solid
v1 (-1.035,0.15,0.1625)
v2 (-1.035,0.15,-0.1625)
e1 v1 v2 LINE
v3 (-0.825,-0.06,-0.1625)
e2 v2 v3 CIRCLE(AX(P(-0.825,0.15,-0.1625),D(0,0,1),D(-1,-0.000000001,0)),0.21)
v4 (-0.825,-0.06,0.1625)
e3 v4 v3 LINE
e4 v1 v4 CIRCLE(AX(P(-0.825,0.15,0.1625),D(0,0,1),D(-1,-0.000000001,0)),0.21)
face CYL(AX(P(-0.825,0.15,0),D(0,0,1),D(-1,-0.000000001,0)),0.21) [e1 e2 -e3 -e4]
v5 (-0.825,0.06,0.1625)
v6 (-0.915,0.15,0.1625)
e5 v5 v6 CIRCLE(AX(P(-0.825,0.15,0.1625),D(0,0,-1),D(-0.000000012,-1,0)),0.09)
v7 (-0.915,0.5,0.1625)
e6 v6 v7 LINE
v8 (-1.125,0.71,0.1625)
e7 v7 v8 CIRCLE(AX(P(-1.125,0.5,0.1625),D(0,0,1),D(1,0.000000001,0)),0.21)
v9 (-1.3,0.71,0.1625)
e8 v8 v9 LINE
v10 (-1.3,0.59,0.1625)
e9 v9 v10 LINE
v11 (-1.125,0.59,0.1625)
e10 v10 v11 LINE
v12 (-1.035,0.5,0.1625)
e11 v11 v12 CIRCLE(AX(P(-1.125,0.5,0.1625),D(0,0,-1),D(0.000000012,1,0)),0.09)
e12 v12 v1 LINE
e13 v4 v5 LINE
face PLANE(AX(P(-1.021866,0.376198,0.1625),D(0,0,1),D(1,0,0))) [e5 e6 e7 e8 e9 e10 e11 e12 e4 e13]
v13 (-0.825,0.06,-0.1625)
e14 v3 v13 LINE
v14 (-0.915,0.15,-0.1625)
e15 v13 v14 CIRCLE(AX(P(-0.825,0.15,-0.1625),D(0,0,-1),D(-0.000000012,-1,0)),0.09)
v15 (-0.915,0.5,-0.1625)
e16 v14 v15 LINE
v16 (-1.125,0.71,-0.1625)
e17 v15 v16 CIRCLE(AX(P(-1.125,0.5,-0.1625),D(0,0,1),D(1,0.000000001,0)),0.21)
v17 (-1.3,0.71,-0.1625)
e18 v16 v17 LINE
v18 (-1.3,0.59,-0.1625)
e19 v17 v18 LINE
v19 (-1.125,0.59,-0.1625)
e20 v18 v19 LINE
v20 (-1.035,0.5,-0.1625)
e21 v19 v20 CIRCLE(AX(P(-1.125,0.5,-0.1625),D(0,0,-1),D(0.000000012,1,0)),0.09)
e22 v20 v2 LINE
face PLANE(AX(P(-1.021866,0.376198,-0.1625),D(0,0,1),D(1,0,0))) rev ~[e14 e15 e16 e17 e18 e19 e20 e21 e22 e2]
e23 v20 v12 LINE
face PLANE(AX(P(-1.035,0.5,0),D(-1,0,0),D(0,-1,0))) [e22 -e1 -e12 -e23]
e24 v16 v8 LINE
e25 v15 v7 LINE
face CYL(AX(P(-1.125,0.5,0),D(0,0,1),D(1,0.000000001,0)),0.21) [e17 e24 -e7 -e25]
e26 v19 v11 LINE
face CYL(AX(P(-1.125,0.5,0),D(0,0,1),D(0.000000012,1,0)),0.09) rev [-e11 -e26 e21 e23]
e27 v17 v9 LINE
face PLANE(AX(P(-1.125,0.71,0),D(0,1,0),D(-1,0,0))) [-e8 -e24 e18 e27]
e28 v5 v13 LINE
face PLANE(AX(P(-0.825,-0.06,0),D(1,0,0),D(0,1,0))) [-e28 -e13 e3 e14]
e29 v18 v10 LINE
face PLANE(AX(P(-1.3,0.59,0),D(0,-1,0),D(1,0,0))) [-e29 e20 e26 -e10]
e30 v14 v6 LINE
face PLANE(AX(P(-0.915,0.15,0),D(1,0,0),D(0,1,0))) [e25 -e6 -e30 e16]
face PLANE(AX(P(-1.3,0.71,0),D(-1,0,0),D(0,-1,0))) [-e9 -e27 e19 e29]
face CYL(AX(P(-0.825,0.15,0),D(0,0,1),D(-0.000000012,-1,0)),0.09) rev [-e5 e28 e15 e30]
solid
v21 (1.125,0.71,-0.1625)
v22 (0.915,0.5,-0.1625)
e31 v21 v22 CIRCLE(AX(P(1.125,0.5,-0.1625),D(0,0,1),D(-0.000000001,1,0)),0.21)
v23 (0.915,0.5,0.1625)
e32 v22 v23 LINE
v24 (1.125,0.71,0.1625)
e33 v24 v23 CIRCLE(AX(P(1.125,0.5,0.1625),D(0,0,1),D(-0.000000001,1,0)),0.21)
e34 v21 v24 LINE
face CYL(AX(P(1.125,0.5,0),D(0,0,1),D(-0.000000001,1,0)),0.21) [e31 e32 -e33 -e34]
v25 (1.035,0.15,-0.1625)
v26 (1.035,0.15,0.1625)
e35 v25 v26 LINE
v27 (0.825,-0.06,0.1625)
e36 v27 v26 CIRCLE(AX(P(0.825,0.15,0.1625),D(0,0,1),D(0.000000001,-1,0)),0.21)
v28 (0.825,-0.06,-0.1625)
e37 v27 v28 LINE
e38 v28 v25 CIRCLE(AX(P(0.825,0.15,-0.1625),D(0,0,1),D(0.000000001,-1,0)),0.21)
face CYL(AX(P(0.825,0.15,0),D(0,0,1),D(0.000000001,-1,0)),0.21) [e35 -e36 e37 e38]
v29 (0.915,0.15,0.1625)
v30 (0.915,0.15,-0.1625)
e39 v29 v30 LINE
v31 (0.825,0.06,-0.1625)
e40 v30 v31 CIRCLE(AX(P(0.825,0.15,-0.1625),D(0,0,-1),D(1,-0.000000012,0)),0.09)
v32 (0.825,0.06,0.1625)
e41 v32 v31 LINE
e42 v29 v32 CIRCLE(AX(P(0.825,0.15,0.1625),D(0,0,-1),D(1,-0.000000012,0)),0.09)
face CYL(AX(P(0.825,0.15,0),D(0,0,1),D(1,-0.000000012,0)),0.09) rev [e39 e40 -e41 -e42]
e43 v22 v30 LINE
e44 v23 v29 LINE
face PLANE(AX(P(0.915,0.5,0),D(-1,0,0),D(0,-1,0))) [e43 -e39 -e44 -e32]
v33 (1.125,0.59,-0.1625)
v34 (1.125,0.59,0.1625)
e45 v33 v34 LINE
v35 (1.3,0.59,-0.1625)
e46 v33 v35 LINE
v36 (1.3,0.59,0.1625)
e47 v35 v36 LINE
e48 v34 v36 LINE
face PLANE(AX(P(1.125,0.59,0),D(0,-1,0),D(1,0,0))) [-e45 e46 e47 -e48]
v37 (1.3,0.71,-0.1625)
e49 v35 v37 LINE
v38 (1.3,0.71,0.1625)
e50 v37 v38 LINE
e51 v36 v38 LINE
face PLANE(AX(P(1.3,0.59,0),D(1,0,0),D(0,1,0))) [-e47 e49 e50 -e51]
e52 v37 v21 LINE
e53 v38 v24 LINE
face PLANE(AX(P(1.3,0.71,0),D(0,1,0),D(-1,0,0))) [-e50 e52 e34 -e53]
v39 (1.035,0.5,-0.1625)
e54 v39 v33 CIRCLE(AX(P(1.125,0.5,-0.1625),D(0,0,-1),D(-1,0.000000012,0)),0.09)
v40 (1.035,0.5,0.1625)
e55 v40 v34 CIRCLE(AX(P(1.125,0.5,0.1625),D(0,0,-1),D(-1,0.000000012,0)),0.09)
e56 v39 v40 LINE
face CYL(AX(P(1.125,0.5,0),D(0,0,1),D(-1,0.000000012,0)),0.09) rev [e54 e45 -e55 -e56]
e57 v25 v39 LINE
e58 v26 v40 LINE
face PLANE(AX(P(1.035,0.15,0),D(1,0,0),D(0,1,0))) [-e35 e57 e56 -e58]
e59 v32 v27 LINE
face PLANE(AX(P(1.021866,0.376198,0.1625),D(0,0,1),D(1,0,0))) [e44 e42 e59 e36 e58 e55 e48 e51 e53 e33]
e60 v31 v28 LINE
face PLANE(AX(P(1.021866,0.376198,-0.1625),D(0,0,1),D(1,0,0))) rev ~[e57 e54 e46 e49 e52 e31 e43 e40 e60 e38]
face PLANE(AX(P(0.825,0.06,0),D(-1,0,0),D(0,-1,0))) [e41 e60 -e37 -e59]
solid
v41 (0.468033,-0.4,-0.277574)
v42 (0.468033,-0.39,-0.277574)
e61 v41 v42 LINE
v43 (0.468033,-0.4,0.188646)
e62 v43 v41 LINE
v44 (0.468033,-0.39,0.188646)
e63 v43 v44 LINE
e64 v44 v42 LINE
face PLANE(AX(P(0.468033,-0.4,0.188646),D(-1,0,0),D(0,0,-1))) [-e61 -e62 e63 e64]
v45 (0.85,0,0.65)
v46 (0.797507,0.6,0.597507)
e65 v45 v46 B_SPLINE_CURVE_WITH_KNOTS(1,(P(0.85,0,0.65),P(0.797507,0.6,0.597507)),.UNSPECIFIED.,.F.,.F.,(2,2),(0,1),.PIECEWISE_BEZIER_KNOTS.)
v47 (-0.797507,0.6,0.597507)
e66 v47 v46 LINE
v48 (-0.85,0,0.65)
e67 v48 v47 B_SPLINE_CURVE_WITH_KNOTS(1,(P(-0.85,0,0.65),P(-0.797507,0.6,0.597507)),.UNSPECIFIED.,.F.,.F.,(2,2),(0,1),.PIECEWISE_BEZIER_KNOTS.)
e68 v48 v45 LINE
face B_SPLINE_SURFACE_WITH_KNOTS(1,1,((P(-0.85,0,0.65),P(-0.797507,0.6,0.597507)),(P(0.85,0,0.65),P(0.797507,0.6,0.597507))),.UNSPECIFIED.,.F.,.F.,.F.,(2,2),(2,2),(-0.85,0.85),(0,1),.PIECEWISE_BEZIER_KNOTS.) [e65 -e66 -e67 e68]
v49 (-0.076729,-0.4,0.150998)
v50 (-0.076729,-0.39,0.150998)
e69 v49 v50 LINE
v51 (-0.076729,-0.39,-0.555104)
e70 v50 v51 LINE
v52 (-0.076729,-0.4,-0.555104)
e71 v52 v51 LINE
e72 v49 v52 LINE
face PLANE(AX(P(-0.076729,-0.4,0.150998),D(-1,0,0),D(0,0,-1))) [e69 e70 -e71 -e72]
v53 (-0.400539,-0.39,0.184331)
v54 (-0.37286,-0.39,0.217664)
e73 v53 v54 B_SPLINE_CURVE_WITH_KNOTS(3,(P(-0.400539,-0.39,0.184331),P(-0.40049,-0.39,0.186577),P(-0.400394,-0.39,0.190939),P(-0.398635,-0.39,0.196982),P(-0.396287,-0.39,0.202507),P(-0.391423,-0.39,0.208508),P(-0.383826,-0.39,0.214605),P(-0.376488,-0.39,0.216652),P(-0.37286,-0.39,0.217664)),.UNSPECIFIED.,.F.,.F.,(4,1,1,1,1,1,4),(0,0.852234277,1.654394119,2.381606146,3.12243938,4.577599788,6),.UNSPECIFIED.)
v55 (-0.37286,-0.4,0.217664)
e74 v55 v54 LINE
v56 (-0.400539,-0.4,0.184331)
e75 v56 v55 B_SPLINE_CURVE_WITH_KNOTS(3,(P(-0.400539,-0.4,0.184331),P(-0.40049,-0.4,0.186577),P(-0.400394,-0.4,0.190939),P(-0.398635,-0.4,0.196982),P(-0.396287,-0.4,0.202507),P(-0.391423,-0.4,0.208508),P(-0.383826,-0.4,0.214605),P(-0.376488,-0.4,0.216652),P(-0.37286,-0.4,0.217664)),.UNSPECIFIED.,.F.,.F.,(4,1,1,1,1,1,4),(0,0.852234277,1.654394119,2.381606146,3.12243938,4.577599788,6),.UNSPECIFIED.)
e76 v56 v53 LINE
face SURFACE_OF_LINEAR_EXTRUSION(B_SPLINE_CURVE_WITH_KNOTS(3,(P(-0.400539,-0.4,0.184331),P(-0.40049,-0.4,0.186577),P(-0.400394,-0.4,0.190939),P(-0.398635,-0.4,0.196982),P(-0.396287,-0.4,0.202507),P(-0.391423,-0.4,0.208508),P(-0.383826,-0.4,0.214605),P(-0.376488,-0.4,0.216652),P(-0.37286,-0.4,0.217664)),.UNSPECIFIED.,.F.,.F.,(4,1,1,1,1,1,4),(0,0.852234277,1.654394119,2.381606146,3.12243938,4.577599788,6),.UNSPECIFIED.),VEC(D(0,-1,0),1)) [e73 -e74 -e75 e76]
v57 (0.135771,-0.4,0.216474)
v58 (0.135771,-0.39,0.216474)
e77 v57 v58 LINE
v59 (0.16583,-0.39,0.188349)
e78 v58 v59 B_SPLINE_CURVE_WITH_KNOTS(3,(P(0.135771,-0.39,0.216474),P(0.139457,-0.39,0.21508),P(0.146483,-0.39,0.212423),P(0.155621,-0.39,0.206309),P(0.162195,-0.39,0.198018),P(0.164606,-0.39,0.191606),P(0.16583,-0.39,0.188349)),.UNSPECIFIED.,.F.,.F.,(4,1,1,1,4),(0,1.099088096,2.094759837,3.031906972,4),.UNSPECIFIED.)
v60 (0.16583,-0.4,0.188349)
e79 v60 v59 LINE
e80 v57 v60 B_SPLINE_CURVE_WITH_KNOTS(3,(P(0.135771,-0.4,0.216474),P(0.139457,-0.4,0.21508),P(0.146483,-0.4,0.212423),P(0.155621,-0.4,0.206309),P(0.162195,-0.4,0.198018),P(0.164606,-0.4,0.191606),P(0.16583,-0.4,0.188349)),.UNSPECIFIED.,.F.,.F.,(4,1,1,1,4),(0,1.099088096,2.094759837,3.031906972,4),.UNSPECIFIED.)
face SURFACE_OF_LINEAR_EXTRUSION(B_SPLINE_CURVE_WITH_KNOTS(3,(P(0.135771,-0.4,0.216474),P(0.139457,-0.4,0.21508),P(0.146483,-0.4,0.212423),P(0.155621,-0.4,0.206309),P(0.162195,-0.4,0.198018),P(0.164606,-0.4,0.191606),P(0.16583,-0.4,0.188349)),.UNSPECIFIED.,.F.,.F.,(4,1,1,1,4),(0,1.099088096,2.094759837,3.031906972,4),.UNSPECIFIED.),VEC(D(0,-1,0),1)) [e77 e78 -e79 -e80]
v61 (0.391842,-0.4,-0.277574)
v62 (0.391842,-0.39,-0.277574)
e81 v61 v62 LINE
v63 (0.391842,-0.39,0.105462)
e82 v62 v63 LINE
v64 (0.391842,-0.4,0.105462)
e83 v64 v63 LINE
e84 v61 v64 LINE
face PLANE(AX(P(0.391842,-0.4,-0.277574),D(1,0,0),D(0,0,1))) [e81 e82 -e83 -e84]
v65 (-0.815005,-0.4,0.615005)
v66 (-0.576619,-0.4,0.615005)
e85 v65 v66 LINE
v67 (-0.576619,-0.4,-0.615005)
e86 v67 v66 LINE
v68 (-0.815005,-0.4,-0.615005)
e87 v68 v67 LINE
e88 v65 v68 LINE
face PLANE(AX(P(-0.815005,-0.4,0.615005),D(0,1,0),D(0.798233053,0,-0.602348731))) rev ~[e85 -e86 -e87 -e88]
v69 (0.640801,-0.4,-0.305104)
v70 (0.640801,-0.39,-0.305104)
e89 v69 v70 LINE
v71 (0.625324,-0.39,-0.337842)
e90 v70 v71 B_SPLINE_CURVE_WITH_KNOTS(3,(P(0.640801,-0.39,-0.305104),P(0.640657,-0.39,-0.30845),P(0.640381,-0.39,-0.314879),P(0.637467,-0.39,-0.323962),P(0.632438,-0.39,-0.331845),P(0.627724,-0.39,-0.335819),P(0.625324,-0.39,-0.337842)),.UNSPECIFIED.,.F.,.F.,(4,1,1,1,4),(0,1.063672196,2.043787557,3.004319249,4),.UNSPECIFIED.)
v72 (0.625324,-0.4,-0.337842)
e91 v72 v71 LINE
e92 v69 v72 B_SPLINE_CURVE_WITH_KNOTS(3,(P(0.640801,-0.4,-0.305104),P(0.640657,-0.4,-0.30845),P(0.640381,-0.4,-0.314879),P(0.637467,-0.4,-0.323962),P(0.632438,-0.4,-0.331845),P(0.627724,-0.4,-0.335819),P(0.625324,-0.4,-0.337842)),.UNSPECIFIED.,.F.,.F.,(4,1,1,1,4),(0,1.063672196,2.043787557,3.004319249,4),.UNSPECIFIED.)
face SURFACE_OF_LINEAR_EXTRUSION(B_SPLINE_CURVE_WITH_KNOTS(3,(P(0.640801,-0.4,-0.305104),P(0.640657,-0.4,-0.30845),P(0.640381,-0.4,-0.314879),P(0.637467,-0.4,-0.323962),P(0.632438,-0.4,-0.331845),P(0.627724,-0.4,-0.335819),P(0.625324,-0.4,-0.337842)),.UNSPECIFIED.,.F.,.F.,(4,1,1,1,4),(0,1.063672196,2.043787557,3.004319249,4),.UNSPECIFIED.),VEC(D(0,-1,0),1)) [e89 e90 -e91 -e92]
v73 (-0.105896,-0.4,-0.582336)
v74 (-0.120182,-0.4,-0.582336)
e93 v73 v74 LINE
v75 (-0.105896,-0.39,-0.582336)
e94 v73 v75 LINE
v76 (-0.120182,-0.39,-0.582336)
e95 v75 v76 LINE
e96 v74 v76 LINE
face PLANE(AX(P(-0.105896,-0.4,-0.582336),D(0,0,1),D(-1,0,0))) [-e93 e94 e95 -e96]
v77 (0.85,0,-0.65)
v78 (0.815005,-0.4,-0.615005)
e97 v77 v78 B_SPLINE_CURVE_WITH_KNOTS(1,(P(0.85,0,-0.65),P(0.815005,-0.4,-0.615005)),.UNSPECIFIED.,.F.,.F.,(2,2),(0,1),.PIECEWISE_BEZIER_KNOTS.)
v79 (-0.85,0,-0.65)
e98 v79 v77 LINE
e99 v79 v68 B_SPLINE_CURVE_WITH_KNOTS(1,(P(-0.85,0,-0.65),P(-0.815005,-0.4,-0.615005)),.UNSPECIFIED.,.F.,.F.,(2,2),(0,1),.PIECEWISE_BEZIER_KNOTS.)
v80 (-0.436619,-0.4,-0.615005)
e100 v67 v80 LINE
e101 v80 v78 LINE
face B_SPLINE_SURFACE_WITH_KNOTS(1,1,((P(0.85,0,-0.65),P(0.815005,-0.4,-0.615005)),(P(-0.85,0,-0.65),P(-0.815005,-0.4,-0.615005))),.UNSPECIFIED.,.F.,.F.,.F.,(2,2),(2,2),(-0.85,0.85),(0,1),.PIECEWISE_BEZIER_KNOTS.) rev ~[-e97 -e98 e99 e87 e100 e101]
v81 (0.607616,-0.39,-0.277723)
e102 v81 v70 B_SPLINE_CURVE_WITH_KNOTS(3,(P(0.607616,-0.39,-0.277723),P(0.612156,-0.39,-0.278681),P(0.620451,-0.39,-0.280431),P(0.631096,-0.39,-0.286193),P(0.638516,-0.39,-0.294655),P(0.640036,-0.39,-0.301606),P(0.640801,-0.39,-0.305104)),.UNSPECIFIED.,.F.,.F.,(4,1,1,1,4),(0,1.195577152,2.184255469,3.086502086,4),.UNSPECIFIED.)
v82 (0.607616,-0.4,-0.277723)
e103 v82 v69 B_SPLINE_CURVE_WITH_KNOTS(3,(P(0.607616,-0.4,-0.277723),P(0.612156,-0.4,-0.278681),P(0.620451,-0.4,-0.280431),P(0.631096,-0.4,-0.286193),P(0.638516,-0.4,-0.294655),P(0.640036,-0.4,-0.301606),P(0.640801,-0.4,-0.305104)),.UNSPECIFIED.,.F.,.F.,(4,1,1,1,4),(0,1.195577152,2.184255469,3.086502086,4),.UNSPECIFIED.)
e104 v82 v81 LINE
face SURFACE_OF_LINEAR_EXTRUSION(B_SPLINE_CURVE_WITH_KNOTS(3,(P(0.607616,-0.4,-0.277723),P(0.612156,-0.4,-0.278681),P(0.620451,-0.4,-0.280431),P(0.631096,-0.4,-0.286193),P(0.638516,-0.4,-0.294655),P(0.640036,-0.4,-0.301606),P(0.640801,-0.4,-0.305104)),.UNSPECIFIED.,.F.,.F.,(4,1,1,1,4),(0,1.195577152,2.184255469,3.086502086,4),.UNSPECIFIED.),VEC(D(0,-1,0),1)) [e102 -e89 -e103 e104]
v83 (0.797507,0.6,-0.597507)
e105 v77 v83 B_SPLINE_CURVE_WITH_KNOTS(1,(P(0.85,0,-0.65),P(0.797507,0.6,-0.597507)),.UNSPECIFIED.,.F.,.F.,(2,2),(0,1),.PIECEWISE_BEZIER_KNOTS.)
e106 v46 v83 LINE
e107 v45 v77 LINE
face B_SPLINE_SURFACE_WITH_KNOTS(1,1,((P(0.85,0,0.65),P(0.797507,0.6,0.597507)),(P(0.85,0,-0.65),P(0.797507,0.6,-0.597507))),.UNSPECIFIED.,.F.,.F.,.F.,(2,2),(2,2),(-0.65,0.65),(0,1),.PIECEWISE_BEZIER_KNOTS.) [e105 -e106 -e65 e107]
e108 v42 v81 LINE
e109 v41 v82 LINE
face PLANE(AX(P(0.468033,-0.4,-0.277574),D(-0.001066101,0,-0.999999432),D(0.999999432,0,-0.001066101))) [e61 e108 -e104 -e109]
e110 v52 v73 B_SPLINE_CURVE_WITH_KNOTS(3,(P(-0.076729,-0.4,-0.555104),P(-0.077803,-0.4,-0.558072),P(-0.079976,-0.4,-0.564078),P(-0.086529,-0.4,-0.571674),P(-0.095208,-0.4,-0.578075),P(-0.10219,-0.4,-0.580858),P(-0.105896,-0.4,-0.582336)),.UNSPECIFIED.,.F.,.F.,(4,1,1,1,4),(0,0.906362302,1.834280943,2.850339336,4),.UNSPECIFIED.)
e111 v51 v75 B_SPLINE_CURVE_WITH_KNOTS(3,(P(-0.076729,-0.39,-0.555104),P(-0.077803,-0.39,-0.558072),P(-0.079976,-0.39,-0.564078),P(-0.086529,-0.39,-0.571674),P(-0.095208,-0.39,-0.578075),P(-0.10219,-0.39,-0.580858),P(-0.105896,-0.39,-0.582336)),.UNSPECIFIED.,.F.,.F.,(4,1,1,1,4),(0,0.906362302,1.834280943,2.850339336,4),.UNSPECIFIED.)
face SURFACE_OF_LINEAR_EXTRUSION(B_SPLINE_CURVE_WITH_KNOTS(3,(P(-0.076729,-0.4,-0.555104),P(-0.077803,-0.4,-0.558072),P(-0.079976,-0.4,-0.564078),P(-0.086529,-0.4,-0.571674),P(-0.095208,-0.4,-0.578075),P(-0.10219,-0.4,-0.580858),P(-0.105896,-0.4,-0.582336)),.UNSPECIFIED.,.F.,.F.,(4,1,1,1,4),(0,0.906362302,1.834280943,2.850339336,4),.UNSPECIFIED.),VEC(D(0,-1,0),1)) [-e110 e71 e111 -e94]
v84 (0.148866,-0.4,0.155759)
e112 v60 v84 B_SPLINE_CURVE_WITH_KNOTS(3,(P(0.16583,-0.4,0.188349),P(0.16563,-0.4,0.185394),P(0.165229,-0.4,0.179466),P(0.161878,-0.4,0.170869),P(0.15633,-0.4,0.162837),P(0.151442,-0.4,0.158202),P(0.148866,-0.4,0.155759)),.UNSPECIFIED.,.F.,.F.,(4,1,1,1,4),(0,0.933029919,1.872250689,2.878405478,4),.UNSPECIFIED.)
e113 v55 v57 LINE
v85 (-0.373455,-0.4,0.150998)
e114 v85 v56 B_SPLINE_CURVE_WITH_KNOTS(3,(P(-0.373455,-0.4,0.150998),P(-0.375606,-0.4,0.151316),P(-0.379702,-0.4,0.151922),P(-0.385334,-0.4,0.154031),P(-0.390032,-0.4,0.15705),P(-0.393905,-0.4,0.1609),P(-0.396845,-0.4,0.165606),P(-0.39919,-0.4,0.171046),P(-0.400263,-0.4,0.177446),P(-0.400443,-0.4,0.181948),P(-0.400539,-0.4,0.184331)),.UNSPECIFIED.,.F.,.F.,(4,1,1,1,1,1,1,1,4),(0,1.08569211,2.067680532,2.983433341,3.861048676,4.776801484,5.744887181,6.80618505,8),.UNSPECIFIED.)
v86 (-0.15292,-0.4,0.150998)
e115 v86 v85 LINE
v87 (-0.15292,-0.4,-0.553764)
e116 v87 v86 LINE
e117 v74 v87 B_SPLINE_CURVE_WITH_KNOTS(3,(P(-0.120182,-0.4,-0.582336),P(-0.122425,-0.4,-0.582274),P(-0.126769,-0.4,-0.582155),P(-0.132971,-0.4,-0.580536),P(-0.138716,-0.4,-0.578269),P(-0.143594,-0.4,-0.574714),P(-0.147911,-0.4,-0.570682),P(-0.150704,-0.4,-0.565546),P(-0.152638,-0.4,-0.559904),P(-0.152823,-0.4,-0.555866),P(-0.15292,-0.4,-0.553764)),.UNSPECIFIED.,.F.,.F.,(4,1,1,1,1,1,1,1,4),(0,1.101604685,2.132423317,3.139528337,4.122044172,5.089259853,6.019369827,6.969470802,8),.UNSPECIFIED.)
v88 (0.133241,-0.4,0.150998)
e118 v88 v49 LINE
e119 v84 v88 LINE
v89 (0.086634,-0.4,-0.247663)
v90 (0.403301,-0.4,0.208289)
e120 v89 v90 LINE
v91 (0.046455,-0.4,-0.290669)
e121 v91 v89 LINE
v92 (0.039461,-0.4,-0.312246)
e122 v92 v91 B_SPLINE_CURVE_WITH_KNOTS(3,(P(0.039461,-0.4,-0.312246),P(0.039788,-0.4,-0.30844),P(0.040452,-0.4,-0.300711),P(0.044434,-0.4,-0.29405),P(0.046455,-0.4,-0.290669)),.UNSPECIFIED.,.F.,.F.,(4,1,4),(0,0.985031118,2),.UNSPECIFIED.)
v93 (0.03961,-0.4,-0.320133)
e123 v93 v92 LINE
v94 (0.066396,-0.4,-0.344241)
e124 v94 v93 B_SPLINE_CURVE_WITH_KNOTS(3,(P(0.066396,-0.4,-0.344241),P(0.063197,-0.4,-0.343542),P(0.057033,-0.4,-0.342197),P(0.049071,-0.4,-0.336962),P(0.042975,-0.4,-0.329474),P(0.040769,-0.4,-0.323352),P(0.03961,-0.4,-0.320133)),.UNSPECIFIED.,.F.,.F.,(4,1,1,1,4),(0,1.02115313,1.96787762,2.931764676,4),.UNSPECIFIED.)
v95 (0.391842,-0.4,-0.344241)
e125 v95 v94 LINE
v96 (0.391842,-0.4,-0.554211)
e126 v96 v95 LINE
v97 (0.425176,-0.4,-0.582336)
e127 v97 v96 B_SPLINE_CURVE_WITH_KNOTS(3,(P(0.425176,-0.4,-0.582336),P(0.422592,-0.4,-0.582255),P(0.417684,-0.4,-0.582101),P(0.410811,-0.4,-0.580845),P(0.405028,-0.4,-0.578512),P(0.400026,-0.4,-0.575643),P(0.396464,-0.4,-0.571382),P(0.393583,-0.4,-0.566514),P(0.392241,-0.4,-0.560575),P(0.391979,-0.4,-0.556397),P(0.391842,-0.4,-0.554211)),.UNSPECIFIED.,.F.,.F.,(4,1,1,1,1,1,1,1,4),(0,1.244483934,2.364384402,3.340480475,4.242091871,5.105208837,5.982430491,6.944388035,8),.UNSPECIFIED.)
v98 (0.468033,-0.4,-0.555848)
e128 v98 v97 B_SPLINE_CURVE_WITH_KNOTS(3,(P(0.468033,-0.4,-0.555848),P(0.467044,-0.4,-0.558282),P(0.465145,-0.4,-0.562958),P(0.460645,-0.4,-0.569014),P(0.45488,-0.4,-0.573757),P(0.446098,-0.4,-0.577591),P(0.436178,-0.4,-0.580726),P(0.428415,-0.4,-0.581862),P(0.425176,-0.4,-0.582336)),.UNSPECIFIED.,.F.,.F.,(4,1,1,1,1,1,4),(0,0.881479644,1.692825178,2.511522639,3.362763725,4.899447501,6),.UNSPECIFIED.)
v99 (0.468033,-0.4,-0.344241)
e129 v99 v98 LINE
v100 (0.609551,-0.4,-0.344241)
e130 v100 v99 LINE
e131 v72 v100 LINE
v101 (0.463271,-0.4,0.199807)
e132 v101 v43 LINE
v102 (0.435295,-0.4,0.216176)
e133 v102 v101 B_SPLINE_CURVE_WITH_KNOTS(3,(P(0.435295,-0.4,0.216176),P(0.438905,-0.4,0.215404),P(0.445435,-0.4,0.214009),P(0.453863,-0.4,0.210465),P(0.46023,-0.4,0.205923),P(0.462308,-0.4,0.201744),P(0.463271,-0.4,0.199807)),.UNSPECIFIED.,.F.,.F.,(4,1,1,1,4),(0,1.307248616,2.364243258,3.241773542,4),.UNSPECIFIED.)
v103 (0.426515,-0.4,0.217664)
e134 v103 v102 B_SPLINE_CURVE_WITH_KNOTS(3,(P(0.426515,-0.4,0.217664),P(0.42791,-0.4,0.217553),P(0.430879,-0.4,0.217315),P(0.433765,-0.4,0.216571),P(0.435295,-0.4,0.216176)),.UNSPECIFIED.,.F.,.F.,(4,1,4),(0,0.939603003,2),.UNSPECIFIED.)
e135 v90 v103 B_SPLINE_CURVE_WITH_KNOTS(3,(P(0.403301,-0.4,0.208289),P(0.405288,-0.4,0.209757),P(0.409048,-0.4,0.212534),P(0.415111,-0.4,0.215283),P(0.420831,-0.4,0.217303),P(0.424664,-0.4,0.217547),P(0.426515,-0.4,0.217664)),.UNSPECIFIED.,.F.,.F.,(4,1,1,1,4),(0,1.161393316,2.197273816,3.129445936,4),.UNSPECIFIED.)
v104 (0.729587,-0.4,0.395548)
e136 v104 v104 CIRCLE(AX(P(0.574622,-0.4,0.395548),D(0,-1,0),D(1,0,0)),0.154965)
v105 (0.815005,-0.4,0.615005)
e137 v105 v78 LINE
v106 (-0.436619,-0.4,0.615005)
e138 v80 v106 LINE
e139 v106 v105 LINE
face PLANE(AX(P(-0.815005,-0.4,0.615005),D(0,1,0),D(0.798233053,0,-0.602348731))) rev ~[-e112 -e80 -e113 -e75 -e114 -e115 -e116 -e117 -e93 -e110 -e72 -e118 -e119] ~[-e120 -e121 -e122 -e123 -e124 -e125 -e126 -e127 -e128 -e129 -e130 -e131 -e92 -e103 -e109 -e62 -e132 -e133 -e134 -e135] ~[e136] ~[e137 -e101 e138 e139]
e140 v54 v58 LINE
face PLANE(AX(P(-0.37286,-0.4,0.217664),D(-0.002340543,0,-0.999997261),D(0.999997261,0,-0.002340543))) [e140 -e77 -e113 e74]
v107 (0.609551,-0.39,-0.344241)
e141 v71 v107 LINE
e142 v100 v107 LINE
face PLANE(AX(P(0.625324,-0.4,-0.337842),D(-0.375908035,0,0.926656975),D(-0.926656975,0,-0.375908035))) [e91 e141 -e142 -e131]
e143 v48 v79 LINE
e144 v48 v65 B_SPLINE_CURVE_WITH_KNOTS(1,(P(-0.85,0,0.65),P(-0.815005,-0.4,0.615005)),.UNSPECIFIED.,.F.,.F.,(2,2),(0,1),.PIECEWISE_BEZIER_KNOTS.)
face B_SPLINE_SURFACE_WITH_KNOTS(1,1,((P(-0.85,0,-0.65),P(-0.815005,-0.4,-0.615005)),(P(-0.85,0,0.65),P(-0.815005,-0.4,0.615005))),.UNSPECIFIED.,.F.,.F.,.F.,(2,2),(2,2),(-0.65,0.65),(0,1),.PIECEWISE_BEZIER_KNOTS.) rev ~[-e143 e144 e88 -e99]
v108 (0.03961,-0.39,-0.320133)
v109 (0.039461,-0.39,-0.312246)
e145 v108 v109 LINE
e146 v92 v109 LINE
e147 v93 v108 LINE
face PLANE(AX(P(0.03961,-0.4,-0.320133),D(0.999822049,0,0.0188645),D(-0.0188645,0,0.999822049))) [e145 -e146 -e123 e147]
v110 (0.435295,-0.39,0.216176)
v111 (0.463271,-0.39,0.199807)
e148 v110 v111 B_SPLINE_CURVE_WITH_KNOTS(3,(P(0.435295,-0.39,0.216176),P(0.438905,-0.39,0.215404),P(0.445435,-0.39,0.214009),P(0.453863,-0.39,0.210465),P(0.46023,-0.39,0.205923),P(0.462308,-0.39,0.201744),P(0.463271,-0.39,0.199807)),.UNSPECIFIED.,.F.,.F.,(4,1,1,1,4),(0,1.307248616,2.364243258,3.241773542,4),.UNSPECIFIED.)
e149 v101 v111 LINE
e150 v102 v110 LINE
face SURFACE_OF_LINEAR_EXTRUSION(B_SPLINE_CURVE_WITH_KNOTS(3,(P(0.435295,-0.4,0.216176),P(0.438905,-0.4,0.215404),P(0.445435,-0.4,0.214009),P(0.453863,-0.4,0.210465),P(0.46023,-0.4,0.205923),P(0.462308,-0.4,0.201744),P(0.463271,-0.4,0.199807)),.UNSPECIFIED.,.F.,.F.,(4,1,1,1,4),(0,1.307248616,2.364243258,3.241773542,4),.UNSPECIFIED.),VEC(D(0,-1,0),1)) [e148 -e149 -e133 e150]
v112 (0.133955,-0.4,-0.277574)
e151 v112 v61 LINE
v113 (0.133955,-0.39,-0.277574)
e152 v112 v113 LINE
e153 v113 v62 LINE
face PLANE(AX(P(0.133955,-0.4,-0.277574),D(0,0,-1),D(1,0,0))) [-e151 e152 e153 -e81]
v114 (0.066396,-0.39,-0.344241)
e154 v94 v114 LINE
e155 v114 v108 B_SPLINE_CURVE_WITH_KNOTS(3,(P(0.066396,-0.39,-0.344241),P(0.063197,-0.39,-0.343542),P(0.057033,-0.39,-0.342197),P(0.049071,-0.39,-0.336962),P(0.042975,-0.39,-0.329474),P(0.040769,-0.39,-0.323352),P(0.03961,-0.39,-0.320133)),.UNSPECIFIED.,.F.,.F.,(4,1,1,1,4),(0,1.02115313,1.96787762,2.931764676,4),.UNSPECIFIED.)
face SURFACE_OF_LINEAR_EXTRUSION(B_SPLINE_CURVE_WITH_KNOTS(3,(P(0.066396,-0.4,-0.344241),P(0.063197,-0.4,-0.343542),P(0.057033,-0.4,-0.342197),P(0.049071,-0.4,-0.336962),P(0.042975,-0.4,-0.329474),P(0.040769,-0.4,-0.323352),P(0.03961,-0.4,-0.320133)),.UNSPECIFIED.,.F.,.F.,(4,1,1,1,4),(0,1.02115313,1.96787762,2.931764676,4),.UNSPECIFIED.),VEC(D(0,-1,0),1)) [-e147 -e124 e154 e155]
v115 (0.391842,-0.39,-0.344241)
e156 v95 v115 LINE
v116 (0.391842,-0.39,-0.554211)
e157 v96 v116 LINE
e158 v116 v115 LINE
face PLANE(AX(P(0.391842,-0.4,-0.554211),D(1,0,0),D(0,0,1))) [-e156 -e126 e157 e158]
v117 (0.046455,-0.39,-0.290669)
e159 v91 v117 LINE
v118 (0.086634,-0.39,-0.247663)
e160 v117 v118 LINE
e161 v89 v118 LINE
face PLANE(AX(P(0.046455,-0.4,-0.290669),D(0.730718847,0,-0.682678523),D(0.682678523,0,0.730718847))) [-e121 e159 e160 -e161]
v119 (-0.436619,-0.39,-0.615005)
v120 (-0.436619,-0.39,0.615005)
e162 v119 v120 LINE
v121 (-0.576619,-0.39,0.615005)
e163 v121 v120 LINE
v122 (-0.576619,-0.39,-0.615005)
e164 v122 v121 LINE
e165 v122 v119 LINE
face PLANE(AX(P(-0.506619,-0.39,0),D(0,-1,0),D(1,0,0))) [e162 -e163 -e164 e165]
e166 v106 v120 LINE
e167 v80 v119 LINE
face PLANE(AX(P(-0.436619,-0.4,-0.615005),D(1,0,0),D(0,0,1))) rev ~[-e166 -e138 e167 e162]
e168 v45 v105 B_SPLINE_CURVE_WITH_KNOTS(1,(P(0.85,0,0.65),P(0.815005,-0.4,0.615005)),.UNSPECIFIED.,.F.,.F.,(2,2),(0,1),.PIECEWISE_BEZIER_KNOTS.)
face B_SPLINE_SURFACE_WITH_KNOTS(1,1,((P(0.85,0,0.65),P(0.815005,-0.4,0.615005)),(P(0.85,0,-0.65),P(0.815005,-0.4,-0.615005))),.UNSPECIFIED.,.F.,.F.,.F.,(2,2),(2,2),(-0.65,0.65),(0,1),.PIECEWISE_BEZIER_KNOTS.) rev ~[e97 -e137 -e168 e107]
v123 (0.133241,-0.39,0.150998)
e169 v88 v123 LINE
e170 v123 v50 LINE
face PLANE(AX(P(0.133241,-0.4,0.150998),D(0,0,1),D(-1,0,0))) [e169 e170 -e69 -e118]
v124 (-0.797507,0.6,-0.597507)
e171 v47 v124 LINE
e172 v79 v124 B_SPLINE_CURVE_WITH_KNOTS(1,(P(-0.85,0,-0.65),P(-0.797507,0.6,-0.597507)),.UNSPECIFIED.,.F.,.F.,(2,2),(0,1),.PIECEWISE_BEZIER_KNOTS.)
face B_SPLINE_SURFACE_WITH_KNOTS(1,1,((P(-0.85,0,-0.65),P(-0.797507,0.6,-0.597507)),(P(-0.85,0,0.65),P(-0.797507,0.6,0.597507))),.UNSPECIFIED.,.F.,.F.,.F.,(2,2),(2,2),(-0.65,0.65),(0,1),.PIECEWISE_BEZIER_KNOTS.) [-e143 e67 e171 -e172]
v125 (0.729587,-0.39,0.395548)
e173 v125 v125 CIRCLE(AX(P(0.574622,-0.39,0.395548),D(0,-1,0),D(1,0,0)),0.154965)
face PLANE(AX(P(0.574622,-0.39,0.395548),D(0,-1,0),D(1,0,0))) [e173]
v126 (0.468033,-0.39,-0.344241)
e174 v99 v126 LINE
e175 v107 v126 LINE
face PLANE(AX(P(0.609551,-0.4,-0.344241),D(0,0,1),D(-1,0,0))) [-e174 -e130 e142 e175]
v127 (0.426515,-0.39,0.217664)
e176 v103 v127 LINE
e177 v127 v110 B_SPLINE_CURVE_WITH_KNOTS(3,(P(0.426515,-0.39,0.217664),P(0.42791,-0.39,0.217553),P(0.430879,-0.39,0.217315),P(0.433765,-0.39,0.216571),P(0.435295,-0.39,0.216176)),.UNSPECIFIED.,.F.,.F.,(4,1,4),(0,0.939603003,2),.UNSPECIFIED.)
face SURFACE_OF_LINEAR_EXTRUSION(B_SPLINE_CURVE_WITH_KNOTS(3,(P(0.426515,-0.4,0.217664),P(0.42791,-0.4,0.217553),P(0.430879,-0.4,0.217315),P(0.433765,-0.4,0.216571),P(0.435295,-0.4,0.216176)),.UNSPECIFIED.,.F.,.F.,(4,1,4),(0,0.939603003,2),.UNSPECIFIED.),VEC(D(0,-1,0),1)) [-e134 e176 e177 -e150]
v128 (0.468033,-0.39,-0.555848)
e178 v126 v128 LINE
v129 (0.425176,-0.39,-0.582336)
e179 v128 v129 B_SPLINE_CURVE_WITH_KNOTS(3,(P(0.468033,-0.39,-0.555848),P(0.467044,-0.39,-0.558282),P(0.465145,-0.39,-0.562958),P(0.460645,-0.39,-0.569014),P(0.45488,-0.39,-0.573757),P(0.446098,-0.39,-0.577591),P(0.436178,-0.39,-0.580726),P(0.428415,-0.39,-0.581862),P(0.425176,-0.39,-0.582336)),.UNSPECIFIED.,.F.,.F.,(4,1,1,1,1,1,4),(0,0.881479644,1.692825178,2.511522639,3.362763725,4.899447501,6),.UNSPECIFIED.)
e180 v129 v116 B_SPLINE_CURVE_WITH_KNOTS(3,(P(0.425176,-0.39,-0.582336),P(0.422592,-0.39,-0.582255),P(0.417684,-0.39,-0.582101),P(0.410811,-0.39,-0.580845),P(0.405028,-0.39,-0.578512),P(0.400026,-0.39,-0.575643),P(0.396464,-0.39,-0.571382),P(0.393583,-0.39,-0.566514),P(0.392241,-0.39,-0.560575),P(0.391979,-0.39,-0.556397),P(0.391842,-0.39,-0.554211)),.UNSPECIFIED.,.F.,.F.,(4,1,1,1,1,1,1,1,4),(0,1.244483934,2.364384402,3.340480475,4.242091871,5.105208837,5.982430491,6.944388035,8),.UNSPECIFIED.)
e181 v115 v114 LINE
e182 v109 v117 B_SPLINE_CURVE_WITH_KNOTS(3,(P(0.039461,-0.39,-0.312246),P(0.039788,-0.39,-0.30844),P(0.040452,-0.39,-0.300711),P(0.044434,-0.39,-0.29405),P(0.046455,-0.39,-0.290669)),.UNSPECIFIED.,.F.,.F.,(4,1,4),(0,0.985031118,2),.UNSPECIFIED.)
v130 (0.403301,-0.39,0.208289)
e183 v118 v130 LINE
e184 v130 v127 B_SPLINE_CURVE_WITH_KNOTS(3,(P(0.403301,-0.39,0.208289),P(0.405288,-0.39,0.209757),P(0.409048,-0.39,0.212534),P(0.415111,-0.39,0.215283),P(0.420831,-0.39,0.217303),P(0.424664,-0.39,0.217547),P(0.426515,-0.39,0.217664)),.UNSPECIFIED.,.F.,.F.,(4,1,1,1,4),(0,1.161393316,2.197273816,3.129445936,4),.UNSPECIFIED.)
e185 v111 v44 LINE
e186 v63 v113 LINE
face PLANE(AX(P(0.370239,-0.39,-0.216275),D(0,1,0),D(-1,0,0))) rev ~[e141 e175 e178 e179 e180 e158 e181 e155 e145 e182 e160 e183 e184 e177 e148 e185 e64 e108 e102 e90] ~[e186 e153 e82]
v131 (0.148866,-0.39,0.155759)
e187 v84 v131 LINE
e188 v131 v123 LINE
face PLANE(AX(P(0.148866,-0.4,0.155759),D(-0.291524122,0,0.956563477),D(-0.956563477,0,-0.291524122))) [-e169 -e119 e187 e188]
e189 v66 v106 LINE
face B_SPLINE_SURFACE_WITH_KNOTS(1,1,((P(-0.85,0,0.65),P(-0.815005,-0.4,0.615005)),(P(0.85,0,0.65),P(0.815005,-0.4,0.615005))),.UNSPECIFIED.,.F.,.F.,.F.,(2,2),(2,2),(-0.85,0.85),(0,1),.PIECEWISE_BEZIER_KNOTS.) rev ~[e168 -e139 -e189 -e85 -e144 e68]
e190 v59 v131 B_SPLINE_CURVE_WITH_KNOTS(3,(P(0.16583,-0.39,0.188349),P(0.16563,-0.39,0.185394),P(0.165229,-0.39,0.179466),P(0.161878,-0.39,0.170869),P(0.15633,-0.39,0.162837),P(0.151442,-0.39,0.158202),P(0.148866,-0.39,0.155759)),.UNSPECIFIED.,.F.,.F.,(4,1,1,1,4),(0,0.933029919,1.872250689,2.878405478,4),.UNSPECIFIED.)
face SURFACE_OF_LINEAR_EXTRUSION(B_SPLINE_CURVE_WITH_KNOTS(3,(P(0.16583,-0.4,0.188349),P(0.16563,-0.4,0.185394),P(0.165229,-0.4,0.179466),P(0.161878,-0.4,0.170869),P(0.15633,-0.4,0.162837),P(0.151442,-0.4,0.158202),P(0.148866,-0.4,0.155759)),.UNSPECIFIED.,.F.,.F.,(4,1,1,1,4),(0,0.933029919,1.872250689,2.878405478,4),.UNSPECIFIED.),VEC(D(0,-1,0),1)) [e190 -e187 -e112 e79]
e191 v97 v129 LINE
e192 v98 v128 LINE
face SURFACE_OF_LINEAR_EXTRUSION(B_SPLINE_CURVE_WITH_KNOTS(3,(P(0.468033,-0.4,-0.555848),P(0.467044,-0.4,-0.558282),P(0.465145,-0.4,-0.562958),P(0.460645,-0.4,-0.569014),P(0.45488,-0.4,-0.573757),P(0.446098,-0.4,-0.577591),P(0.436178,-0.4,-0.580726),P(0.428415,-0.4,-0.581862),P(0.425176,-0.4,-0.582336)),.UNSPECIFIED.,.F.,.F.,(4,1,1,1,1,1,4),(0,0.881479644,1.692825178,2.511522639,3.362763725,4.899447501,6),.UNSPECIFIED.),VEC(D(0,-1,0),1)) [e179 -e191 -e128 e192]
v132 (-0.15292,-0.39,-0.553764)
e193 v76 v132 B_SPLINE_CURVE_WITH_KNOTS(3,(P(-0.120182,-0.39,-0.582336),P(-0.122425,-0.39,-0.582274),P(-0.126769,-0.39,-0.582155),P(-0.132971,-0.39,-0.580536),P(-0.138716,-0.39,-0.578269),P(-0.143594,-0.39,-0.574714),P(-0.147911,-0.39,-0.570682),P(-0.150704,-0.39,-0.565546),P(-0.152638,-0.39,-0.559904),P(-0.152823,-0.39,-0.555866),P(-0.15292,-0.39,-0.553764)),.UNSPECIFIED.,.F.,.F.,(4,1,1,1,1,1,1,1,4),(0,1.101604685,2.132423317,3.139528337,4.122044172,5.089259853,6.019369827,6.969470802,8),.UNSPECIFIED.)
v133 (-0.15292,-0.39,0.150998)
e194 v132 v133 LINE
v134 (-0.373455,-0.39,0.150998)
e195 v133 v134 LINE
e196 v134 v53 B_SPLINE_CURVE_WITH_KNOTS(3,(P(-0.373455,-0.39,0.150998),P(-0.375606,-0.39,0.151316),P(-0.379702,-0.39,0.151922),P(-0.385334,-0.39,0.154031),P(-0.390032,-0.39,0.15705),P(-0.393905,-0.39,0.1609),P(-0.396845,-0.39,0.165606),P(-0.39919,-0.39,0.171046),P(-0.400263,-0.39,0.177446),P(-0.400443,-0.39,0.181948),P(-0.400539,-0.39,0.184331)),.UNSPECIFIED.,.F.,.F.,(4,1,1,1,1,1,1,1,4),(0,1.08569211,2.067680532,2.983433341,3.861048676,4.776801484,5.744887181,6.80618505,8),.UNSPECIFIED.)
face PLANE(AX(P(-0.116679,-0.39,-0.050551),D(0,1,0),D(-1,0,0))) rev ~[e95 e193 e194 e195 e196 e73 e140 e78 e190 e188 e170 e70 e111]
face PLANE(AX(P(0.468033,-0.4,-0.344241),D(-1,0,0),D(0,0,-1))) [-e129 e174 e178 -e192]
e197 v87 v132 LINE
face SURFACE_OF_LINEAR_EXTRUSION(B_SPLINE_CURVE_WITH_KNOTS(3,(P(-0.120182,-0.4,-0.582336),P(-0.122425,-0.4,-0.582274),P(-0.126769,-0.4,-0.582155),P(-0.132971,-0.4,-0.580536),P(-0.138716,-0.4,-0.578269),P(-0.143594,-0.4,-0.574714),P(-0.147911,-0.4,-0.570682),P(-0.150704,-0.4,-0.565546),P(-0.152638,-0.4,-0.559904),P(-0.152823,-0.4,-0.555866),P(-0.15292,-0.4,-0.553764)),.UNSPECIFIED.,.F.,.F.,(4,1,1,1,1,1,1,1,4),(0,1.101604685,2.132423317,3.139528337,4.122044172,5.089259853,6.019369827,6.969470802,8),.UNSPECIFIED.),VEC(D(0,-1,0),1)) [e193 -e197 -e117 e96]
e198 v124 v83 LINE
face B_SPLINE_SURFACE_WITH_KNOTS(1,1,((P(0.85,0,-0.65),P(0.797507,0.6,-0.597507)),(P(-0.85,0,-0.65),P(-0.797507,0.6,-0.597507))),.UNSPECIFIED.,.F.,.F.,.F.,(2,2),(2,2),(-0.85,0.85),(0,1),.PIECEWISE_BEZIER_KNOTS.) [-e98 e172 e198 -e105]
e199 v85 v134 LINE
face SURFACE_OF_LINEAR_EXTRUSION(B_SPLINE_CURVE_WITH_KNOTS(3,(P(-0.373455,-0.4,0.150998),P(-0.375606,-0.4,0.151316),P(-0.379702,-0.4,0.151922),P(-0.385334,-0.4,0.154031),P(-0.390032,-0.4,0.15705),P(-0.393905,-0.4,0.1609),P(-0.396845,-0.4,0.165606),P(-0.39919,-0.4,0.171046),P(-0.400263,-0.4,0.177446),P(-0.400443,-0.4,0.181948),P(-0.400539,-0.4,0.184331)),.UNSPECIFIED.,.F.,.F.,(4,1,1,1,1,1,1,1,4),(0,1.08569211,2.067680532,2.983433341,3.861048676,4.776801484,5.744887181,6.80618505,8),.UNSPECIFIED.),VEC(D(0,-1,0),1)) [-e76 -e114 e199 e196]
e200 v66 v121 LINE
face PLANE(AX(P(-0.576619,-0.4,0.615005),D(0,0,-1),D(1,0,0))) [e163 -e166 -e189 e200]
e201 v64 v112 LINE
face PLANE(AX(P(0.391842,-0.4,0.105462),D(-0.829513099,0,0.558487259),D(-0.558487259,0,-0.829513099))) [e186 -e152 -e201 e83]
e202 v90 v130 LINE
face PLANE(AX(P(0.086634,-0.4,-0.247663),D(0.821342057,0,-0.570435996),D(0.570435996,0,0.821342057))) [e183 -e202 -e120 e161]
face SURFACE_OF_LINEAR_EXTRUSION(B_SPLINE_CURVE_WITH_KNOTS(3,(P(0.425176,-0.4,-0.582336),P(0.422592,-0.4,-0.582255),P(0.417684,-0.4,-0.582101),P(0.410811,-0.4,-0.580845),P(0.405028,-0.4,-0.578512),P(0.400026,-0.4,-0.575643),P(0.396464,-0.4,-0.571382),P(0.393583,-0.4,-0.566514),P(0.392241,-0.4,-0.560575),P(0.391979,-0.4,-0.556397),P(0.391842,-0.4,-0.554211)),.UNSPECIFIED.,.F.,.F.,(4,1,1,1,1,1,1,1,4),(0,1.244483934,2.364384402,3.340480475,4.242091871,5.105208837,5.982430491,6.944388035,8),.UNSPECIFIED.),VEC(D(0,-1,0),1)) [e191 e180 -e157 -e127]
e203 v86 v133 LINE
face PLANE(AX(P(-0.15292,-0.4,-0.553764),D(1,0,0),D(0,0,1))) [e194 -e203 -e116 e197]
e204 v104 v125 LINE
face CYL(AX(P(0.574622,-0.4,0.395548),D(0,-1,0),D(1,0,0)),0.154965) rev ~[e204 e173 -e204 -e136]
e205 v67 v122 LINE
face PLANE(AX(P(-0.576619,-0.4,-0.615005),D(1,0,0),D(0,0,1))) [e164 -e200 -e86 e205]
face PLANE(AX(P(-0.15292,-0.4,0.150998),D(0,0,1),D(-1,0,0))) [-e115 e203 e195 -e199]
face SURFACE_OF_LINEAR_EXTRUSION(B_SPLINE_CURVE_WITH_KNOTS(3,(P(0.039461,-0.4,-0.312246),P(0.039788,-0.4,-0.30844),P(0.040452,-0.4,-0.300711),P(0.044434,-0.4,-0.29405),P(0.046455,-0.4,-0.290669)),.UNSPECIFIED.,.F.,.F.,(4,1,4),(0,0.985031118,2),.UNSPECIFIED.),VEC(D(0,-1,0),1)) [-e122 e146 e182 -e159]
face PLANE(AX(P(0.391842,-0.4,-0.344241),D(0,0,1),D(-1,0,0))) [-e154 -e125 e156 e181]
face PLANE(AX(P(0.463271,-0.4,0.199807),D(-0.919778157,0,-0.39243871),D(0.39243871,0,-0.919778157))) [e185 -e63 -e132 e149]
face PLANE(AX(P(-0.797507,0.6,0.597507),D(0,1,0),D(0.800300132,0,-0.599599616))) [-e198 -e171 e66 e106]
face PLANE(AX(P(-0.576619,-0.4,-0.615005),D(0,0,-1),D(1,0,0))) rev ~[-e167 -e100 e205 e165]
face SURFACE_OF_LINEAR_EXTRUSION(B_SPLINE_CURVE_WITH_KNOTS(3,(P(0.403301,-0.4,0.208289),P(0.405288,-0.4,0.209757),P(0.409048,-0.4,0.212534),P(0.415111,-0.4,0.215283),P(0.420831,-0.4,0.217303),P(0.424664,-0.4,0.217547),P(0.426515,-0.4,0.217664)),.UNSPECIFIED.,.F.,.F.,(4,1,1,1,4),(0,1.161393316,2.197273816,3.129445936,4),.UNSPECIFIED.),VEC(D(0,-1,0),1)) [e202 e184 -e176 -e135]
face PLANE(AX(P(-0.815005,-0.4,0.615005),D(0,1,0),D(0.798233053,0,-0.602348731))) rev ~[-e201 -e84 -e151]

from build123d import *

# Parameters (mm, degrees)
SKETCH2_W                     = 1.7
SKETCH2_H                     = 1.3
BOSS_EXTRUDE1_DEPTH           = 0.6
BOSS_EXTRUDE1_TAPER           = 5
BOSS_EXTRUDE1_OTHER_WAY_DEPTH = 0.4
BOSS_EXTRUDE1_OTHER_WAY_TAPER = 5
EXTRUDE_THIN6_DEPTH           = 0.1625
EXTRUDE_THIN6_2_DEPTH         = 0.1625
SKETCH5_R                     = 0.154965455
SKETCH5_R_2                   = 0.014965455
SKETCH5_W                     = 0.14
SKETCH5_H                     = 1.23000907
CUT_EXTRUDE_THIN1_DEPTH       = 0.01
CUT_EXTRUDE1_START            = 0.01
SKETCH6_R                     = 0.154965455
CUT_EXTRUDE1_DEPTH            = 0.01
CUT_EXTRUDE2_DEPTH            = 0.01


with BuildPart() as part:
    # Sketch2 → Boss-Extrude1 (new body)
    with BuildSketch(Plane(origin=(0, 0, 0), x_dir=(1, 0, 0), z_dir=(0, 1, 0))):
        Rectangle(SKETCH2_W, SKETCH2_H)
    extrude(amount=BOSS_EXTRUDE1_DEPTH, taper=BOSS_EXTRUDE1_TAPER)

    # Sketch2 → Boss-Extrude1 other way (add)
    with BuildSketch(Plane(origin=(0, 0, 0), x_dir=(1, 0, 0), z_dir=(0, 1, 0))):
        Rectangle(SKETCH2_W, SKETCH2_H)
    extrude(amount=-BOSS_EXTRUDE1_OTHER_WAY_DEPTH, taper=BOSS_EXTRUDE1_OTHER_WAY_TAPER)

    # Sketch5 → Cut-Extrude-Thin1 (cut)
    # profile 1 of 2: a face of its own
    with BuildSketch(Plane.XZ.offset(0.4)):
        with Locations((0.574621923, 0.395548424)):
            Circle(SKETCH5_R)
        with Locations((0.574621923, 0.395548424)):
            Circle(SKETCH5_R_2, mode=Mode.SUBTRACT)
    # profile 2 of 2: a face of its own
    with BuildSketch(Plane.XZ.offset(0.4)):
        with Locations((-0.506619328, 0)):
            Rectangle(SKETCH5_W, SKETCH5_H)
    extrude(amount=-CUT_EXTRUDE_THIN1_DEPTH, mode=Mode.SUBTRACT)

    # Sketch6 → Cut-Extrude1 (cut)
    with BuildSketch(Plane.XZ.offset(0.39).offset(CUT_EXTRUDE1_START)):
        with Locations((0.574621923, 0.395548424)):
            Circle(SKETCH6_R)
    extrude(amount=-CUT_EXTRUDE1_DEPTH, mode=Mode.SUBTRACT)

    # Sketch7 → Cut-Extrude2 (cut)
    # profile 1 of 2: a face of its own
    with BuildSketch(Plane.XZ.offset(0.4)):
        with BuildLine():
            add(Edge.make_bspline(
                [(0.135770796, 0.216473748), (0.139457272, 0.215079931), (0.146483353, 0.212423445), (0.155620509, 0.206309111), (0.162195426, 0.198017774), (0.16460564, 0.191606468), (0.16583032, 0.188348748)],
                knots=[0, 0, 0, 0, 1.099088096, 2.094759837, 3.031906972, 4, 4, 4, 4], degree=3))
            add(Edge.make_bspline(
                [(0.16583032, 0.188348748), (0.165630292, 0.185394271), (0.165228908, 0.179465714), (0.161878213, 0.170869074), (0.156329822, 0.162836578), (0.151442353, 0.15820231), (0.148866035, 0.155759462)],
                knots=[0, 0, 0, 0, 0.933029919, 1.872250689, 2.878405478, 4, 4, 4, 4], degree=3))
            Line((0.148866035, 0.155759462), (0.133241035, 0.150997557))
            Line((0.133241035, 0.150997557), (-0.076729204, 0.150997557))
            Line((-0.076729204, 0.150997557), (-0.076729204, -0.555103633))
            add(Edge.make_bspline(
                [(-0.076729204, -0.555103633), (-0.077802922, -0.558071681), (-0.079975895, -0.564078366), (-0.086528911, -0.571673619), (-0.095208321, -0.578075398), (-0.102189792, -0.580858422), (-0.10589587, -0.582335776)],
                knots=[0, 0, 0, 0, 0.906362302, 1.834280943, 2.850339336, 4, 4, 4, 4], degree=3))
            Line((-0.10589587, -0.582335776), (-0.120181584, -0.582335776))
            add(Edge.make_bspline(
                [(-0.120181584, -0.582335776), (-0.122425391, -0.582274188), (-0.126768823, -0.582154969), (-0.132970545, -0.580535899), (-0.138715826, -0.578269093), (-0.143594023, -0.574713989), (-0.147911363, -0.57068195), (-0.150703778, -0.565546173), (-0.152638167, -0.559904422), (-0.152823336, -0.555865706), (-0.15291968, -0.553764347)],
                knots=[0, 0, 0, 0, 1.101604685, 2.132423317, 3.139528337, 4.122044172, 5.089259853, 6.019369827, 6.969470802, 8, 8, 8, 8], degree=3))
            Line((-0.15291968, -0.553764347), (-0.15291968, 0.150997557))
            Line((-0.15291968, 0.150997557), (-0.373455394, 0.150997557))
            add(Edge.make_bspline(
                [(-0.373455394, 0.150997557), (-0.375605965, 0.151315713), (-0.379701686, 0.151921636), (-0.385334498, 0.154031045), (-0.390031559, 0.157050159), (-0.393904776, 0.160900493), (-0.396844862, 0.165606462), (-0.399190144, 0.171046313), (-0.400262586, 0.177445676), (-0.400443144, 0.181947636), (-0.400538727, 0.184330891)],
                knots=[0, 0, 0, 0, 1.08569211, 2.067680532, 2.983433341, 3.861048676, 4.776801484, 5.744887181, 6.80618505, 8, 8, 8, 8], degree=3))
            add(Edge.make_bspline(
                [(-0.400538727, 0.184330891), (-0.40048955, 0.186577458), (-0.400394084, 0.190938592), (-0.398635178, 0.196981969), (-0.396287133, 0.202507185), (-0.39142343, 0.208508397), (-0.383825939, 0.214605167), (-0.376487568, 0.216652307), (-0.372860156, 0.217664224)],
                knots=[0, 0, 0, 0, 0.852234277, 1.654394119, 2.381606146, 3.12243938, 4.577599788, 6, 6, 6, 6], degree=3))
            Line((-0.372860156, 0.217664224), (0.135770796, 0.216473748))
        make_face()
    # profile 2 of 2: a face of its own
    with BuildSketch(Plane.XZ.offset(0.4)):
        with BuildLine():
            Line((0.463270796, 0.199807081), (0.468032701, 0.188646367))
            Line((0.468032701, 0.188646367), (0.468032701, -0.277573871))
            Line((0.468032701, -0.277573871), (0.607616035, -0.277722681))
            add(Edge.make_bspline(
                [(0.607616035, -0.277722681), (0.612156432, -0.278680776), (0.620451495, -0.280431165), (0.631096055, -0.28619262), (0.638516347, -0.294654989), (0.640036016, -0.301606394), (0.640800558, -0.305103633)],
                knots=[0, 0, 0, 0, 1.195577152, 2.184255469, 3.086502086, 4, 4, 4, 4], degree=3))
            add(Edge.make_bspline(
                [(0.640800558, -0.305103633), (0.640657056, -0.308449604), (0.640381324, -0.314878704), (0.637466795, -0.323962047), (0.632438379, -0.331845491), (0.627723941, -0.335819183), (0.625324368, -0.337841728)],
                knots=[0, 0, 0, 0, 1.063672196, 2.043787557, 3.004319249, 4, 4, 4, 4], degree=3))
            Line((0.625324368, -0.337841728), (0.609550558, -0.344240538))
            Line((0.609550558, -0.344240538), (0.468032701, -0.344240538))
            Line((0.468032701, -0.344240538), (0.468032701, -0.555847681))
            add(Edge.make_bspline(
                [(0.468032701, -0.555847681), (0.46704396, -0.558282303), (0.465145145, -0.562957839), (0.46064499, -0.569013593), (0.45487957, -0.573756805), (0.446098316, -0.577590564), (0.436177698, -0.580726058), (0.428415022, -0.581861812), (0.425175558, -0.582335776)],
                knots=[0, 0, 0, 0, 0.881479644, 1.692825178, 2.511522639, 3.362763725, 4.899447501, 6, 6, 6, 6], degree=3))
            add(Edge.make_bspline(
                [(0.425175558, -0.582335776), (0.422592141, -0.582254923), (0.41768393, -0.582101311), (0.410811436, -0.5808446), (0.405028301, -0.57851237), (0.400026105, -0.575642604), (0.396464478, -0.571381888), (0.393583064, -0.566513999), (0.39224088, -0.560575141), (0.39197916, -0.556396882), (0.391842225, -0.554210776)],
                knots=[0, 0, 0, 0, 1.244483934, 2.364384402, 3.340480475, 4.242091871, 5.105208837, 5.982430491, 6.944388035, 8, 8, 8, 8], degree=3))
            Line((0.391842225, -0.554210776), (0.391842225, -0.344240538))
            Line((0.391842225, -0.344240538), (0.066395796, -0.344240538))
            add(Edge.make_bspline(
                [(0.066395796, -0.344240538), (0.063197263, -0.343542243), (0.057033327, -0.34219655), (0.049070771, -0.336962296), (0.042975047, -0.329474285), (0.040769489, -0.32335182), (0.039610082, -0.320133395)],
                knots=[0, 0, 0, 0, 1.02115313, 1.96787762, 2.931764676, 4, 4, 4, 4], degree=3))
            Line((0.039610082, -0.320133395), (0.039461273, -0.31224649))
            add(Edge.make_bspline(
                [(0.039461273, -0.31224649), (0.039788172, -0.308439955), (0.040451907, -0.300711194), (0.044434312, -0.294049709), (0.04645532, -0.290669109)],
                knots=[0, 0, 0, 0, 0.985031118, 2, 2, 2, 2], degree=3))
            Line((0.04645532, -0.290669109), (0.086633892, -0.247663157))
            Line((0.086633892, -0.247663157), (0.403300558, 0.208289224))
            add(Edge.make_bspline(
                [(0.403300558, 0.208289224), (0.405288071, 0.209756918), (0.409048303, 0.21253369), (0.415110621, 0.21528326), (0.420831347, 0.217302968), (0.424664013, 0.217546581), (0.426514844, 0.217664224)],
                knots=[0, 0, 0, 0, 1.161393316, 2.197273816, 3.129445936, 4, 4, 4, 4], degree=3))
            add(Edge.make_bspline(
                [(0.426514844, 0.217664224), (0.427909924, 0.217552731), (0.430879433, 0.21731541), (0.433764793, 0.216570878), (0.435294606, 0.216176129)],
                knots=[0, 0, 0, 0, 0.939603003, 2, 2, 2, 2], degree=3))
            add(Edge.make_bspline(
                [(0.435294606, 0.216176129), (0.438905124, 0.215404381), (0.445434978, 0.214008626), (0.45386256, 0.210465298), (0.460230174, 0.205922753), (0.462307765, 0.201744047), (0.463270796, 0.199807081)],
                knots=[0, 0, 0, 0, 1.307248616, 2.364243258, 3.241773542, 4, 4, 4, 4], degree=3))
        make_face()
        Polygon((0.13395532, -0.277573871), (0.391842225, -0.277573871), (0.391842225, 0.105461843), align=None, mode=Mode.SUBTRACT)
    extrude(amount=-CUT_EXTRUDE2_DEPTH, mode=Mode.SUBTRACT)


with BuildPart() as body_2:
    # Sketch4 → Extrude-Thin6 (new, symmetric)
    with BuildSketch(Plane.XY):
        with BuildLine():
            ThreePointArc((-0.825, 0.06), (-0.88863961, 0.08636039), (-0.915, 0.15))
            Line((-0.915, 0.15), (-0.915, 0.5))
            ThreePointArc((-0.915, 0.5), (-0.976507576, 0.648492424), (-1.125, 0.71))
            Line((-1.125, 0.71), (-1.3, 0.71))
            Line((-1.3, 0.71), (-1.3, 0.59))
            Line((-1.3, 0.59), (-1.125, 0.59))
            ThreePointArc((-1.125, 0.59), (-1.06136039, 0.56363961), (-1.035, 0.5))
            Line((-1.035, 0.5), (-1.035, 0.15))
            ThreePointArc((-1.035, 0.15), (-0.973492424, 0.001507576), (-0.825, -0.06))
            Line((-0.825, -0.06), (-0.825, 0.06))
        make_face()
    extrude(amount=EXTRUDE_THIN6_DEPTH, both=True)


with BuildPart() as body_3:
    # Sketch4 → Extrude-Thin6 2 (new, symmetric)
    with BuildSketch(Plane.XY):
        with BuildLine():
            ThreePointArc((0.825, -0.06), (0.973492424, 0.001507576), (1.035, 0.15))
            Line((1.035, 0.15), (1.035, 0.5))
            ThreePointArc((1.035, 0.5), (1.06136039, 0.56363961), (1.125, 0.59))
            Line((1.125, 0.59), (1.3, 0.59))
            Line((1.3, 0.59), (1.3, 0.71))
            Line((1.3, 0.71), (1.125, 0.71))
            ThreePointArc((1.125, 0.71), (0.976507576, 0.648492424), (0.915, 0.5))
            Line((0.915, 0.5), (0.915, 0.15))
            ThreePointArc((0.915, 0.15), (0.88863961, 0.08636039), (0.825, 0.06))
            Line((0.825, 0.06), (0.825, -0.06))
        make_face()
    extrude(amount=EXTRUDE_THIN6_2_DEPTH, both=True)


solid = Compound([part.part, body_2.part, body_3.part])
